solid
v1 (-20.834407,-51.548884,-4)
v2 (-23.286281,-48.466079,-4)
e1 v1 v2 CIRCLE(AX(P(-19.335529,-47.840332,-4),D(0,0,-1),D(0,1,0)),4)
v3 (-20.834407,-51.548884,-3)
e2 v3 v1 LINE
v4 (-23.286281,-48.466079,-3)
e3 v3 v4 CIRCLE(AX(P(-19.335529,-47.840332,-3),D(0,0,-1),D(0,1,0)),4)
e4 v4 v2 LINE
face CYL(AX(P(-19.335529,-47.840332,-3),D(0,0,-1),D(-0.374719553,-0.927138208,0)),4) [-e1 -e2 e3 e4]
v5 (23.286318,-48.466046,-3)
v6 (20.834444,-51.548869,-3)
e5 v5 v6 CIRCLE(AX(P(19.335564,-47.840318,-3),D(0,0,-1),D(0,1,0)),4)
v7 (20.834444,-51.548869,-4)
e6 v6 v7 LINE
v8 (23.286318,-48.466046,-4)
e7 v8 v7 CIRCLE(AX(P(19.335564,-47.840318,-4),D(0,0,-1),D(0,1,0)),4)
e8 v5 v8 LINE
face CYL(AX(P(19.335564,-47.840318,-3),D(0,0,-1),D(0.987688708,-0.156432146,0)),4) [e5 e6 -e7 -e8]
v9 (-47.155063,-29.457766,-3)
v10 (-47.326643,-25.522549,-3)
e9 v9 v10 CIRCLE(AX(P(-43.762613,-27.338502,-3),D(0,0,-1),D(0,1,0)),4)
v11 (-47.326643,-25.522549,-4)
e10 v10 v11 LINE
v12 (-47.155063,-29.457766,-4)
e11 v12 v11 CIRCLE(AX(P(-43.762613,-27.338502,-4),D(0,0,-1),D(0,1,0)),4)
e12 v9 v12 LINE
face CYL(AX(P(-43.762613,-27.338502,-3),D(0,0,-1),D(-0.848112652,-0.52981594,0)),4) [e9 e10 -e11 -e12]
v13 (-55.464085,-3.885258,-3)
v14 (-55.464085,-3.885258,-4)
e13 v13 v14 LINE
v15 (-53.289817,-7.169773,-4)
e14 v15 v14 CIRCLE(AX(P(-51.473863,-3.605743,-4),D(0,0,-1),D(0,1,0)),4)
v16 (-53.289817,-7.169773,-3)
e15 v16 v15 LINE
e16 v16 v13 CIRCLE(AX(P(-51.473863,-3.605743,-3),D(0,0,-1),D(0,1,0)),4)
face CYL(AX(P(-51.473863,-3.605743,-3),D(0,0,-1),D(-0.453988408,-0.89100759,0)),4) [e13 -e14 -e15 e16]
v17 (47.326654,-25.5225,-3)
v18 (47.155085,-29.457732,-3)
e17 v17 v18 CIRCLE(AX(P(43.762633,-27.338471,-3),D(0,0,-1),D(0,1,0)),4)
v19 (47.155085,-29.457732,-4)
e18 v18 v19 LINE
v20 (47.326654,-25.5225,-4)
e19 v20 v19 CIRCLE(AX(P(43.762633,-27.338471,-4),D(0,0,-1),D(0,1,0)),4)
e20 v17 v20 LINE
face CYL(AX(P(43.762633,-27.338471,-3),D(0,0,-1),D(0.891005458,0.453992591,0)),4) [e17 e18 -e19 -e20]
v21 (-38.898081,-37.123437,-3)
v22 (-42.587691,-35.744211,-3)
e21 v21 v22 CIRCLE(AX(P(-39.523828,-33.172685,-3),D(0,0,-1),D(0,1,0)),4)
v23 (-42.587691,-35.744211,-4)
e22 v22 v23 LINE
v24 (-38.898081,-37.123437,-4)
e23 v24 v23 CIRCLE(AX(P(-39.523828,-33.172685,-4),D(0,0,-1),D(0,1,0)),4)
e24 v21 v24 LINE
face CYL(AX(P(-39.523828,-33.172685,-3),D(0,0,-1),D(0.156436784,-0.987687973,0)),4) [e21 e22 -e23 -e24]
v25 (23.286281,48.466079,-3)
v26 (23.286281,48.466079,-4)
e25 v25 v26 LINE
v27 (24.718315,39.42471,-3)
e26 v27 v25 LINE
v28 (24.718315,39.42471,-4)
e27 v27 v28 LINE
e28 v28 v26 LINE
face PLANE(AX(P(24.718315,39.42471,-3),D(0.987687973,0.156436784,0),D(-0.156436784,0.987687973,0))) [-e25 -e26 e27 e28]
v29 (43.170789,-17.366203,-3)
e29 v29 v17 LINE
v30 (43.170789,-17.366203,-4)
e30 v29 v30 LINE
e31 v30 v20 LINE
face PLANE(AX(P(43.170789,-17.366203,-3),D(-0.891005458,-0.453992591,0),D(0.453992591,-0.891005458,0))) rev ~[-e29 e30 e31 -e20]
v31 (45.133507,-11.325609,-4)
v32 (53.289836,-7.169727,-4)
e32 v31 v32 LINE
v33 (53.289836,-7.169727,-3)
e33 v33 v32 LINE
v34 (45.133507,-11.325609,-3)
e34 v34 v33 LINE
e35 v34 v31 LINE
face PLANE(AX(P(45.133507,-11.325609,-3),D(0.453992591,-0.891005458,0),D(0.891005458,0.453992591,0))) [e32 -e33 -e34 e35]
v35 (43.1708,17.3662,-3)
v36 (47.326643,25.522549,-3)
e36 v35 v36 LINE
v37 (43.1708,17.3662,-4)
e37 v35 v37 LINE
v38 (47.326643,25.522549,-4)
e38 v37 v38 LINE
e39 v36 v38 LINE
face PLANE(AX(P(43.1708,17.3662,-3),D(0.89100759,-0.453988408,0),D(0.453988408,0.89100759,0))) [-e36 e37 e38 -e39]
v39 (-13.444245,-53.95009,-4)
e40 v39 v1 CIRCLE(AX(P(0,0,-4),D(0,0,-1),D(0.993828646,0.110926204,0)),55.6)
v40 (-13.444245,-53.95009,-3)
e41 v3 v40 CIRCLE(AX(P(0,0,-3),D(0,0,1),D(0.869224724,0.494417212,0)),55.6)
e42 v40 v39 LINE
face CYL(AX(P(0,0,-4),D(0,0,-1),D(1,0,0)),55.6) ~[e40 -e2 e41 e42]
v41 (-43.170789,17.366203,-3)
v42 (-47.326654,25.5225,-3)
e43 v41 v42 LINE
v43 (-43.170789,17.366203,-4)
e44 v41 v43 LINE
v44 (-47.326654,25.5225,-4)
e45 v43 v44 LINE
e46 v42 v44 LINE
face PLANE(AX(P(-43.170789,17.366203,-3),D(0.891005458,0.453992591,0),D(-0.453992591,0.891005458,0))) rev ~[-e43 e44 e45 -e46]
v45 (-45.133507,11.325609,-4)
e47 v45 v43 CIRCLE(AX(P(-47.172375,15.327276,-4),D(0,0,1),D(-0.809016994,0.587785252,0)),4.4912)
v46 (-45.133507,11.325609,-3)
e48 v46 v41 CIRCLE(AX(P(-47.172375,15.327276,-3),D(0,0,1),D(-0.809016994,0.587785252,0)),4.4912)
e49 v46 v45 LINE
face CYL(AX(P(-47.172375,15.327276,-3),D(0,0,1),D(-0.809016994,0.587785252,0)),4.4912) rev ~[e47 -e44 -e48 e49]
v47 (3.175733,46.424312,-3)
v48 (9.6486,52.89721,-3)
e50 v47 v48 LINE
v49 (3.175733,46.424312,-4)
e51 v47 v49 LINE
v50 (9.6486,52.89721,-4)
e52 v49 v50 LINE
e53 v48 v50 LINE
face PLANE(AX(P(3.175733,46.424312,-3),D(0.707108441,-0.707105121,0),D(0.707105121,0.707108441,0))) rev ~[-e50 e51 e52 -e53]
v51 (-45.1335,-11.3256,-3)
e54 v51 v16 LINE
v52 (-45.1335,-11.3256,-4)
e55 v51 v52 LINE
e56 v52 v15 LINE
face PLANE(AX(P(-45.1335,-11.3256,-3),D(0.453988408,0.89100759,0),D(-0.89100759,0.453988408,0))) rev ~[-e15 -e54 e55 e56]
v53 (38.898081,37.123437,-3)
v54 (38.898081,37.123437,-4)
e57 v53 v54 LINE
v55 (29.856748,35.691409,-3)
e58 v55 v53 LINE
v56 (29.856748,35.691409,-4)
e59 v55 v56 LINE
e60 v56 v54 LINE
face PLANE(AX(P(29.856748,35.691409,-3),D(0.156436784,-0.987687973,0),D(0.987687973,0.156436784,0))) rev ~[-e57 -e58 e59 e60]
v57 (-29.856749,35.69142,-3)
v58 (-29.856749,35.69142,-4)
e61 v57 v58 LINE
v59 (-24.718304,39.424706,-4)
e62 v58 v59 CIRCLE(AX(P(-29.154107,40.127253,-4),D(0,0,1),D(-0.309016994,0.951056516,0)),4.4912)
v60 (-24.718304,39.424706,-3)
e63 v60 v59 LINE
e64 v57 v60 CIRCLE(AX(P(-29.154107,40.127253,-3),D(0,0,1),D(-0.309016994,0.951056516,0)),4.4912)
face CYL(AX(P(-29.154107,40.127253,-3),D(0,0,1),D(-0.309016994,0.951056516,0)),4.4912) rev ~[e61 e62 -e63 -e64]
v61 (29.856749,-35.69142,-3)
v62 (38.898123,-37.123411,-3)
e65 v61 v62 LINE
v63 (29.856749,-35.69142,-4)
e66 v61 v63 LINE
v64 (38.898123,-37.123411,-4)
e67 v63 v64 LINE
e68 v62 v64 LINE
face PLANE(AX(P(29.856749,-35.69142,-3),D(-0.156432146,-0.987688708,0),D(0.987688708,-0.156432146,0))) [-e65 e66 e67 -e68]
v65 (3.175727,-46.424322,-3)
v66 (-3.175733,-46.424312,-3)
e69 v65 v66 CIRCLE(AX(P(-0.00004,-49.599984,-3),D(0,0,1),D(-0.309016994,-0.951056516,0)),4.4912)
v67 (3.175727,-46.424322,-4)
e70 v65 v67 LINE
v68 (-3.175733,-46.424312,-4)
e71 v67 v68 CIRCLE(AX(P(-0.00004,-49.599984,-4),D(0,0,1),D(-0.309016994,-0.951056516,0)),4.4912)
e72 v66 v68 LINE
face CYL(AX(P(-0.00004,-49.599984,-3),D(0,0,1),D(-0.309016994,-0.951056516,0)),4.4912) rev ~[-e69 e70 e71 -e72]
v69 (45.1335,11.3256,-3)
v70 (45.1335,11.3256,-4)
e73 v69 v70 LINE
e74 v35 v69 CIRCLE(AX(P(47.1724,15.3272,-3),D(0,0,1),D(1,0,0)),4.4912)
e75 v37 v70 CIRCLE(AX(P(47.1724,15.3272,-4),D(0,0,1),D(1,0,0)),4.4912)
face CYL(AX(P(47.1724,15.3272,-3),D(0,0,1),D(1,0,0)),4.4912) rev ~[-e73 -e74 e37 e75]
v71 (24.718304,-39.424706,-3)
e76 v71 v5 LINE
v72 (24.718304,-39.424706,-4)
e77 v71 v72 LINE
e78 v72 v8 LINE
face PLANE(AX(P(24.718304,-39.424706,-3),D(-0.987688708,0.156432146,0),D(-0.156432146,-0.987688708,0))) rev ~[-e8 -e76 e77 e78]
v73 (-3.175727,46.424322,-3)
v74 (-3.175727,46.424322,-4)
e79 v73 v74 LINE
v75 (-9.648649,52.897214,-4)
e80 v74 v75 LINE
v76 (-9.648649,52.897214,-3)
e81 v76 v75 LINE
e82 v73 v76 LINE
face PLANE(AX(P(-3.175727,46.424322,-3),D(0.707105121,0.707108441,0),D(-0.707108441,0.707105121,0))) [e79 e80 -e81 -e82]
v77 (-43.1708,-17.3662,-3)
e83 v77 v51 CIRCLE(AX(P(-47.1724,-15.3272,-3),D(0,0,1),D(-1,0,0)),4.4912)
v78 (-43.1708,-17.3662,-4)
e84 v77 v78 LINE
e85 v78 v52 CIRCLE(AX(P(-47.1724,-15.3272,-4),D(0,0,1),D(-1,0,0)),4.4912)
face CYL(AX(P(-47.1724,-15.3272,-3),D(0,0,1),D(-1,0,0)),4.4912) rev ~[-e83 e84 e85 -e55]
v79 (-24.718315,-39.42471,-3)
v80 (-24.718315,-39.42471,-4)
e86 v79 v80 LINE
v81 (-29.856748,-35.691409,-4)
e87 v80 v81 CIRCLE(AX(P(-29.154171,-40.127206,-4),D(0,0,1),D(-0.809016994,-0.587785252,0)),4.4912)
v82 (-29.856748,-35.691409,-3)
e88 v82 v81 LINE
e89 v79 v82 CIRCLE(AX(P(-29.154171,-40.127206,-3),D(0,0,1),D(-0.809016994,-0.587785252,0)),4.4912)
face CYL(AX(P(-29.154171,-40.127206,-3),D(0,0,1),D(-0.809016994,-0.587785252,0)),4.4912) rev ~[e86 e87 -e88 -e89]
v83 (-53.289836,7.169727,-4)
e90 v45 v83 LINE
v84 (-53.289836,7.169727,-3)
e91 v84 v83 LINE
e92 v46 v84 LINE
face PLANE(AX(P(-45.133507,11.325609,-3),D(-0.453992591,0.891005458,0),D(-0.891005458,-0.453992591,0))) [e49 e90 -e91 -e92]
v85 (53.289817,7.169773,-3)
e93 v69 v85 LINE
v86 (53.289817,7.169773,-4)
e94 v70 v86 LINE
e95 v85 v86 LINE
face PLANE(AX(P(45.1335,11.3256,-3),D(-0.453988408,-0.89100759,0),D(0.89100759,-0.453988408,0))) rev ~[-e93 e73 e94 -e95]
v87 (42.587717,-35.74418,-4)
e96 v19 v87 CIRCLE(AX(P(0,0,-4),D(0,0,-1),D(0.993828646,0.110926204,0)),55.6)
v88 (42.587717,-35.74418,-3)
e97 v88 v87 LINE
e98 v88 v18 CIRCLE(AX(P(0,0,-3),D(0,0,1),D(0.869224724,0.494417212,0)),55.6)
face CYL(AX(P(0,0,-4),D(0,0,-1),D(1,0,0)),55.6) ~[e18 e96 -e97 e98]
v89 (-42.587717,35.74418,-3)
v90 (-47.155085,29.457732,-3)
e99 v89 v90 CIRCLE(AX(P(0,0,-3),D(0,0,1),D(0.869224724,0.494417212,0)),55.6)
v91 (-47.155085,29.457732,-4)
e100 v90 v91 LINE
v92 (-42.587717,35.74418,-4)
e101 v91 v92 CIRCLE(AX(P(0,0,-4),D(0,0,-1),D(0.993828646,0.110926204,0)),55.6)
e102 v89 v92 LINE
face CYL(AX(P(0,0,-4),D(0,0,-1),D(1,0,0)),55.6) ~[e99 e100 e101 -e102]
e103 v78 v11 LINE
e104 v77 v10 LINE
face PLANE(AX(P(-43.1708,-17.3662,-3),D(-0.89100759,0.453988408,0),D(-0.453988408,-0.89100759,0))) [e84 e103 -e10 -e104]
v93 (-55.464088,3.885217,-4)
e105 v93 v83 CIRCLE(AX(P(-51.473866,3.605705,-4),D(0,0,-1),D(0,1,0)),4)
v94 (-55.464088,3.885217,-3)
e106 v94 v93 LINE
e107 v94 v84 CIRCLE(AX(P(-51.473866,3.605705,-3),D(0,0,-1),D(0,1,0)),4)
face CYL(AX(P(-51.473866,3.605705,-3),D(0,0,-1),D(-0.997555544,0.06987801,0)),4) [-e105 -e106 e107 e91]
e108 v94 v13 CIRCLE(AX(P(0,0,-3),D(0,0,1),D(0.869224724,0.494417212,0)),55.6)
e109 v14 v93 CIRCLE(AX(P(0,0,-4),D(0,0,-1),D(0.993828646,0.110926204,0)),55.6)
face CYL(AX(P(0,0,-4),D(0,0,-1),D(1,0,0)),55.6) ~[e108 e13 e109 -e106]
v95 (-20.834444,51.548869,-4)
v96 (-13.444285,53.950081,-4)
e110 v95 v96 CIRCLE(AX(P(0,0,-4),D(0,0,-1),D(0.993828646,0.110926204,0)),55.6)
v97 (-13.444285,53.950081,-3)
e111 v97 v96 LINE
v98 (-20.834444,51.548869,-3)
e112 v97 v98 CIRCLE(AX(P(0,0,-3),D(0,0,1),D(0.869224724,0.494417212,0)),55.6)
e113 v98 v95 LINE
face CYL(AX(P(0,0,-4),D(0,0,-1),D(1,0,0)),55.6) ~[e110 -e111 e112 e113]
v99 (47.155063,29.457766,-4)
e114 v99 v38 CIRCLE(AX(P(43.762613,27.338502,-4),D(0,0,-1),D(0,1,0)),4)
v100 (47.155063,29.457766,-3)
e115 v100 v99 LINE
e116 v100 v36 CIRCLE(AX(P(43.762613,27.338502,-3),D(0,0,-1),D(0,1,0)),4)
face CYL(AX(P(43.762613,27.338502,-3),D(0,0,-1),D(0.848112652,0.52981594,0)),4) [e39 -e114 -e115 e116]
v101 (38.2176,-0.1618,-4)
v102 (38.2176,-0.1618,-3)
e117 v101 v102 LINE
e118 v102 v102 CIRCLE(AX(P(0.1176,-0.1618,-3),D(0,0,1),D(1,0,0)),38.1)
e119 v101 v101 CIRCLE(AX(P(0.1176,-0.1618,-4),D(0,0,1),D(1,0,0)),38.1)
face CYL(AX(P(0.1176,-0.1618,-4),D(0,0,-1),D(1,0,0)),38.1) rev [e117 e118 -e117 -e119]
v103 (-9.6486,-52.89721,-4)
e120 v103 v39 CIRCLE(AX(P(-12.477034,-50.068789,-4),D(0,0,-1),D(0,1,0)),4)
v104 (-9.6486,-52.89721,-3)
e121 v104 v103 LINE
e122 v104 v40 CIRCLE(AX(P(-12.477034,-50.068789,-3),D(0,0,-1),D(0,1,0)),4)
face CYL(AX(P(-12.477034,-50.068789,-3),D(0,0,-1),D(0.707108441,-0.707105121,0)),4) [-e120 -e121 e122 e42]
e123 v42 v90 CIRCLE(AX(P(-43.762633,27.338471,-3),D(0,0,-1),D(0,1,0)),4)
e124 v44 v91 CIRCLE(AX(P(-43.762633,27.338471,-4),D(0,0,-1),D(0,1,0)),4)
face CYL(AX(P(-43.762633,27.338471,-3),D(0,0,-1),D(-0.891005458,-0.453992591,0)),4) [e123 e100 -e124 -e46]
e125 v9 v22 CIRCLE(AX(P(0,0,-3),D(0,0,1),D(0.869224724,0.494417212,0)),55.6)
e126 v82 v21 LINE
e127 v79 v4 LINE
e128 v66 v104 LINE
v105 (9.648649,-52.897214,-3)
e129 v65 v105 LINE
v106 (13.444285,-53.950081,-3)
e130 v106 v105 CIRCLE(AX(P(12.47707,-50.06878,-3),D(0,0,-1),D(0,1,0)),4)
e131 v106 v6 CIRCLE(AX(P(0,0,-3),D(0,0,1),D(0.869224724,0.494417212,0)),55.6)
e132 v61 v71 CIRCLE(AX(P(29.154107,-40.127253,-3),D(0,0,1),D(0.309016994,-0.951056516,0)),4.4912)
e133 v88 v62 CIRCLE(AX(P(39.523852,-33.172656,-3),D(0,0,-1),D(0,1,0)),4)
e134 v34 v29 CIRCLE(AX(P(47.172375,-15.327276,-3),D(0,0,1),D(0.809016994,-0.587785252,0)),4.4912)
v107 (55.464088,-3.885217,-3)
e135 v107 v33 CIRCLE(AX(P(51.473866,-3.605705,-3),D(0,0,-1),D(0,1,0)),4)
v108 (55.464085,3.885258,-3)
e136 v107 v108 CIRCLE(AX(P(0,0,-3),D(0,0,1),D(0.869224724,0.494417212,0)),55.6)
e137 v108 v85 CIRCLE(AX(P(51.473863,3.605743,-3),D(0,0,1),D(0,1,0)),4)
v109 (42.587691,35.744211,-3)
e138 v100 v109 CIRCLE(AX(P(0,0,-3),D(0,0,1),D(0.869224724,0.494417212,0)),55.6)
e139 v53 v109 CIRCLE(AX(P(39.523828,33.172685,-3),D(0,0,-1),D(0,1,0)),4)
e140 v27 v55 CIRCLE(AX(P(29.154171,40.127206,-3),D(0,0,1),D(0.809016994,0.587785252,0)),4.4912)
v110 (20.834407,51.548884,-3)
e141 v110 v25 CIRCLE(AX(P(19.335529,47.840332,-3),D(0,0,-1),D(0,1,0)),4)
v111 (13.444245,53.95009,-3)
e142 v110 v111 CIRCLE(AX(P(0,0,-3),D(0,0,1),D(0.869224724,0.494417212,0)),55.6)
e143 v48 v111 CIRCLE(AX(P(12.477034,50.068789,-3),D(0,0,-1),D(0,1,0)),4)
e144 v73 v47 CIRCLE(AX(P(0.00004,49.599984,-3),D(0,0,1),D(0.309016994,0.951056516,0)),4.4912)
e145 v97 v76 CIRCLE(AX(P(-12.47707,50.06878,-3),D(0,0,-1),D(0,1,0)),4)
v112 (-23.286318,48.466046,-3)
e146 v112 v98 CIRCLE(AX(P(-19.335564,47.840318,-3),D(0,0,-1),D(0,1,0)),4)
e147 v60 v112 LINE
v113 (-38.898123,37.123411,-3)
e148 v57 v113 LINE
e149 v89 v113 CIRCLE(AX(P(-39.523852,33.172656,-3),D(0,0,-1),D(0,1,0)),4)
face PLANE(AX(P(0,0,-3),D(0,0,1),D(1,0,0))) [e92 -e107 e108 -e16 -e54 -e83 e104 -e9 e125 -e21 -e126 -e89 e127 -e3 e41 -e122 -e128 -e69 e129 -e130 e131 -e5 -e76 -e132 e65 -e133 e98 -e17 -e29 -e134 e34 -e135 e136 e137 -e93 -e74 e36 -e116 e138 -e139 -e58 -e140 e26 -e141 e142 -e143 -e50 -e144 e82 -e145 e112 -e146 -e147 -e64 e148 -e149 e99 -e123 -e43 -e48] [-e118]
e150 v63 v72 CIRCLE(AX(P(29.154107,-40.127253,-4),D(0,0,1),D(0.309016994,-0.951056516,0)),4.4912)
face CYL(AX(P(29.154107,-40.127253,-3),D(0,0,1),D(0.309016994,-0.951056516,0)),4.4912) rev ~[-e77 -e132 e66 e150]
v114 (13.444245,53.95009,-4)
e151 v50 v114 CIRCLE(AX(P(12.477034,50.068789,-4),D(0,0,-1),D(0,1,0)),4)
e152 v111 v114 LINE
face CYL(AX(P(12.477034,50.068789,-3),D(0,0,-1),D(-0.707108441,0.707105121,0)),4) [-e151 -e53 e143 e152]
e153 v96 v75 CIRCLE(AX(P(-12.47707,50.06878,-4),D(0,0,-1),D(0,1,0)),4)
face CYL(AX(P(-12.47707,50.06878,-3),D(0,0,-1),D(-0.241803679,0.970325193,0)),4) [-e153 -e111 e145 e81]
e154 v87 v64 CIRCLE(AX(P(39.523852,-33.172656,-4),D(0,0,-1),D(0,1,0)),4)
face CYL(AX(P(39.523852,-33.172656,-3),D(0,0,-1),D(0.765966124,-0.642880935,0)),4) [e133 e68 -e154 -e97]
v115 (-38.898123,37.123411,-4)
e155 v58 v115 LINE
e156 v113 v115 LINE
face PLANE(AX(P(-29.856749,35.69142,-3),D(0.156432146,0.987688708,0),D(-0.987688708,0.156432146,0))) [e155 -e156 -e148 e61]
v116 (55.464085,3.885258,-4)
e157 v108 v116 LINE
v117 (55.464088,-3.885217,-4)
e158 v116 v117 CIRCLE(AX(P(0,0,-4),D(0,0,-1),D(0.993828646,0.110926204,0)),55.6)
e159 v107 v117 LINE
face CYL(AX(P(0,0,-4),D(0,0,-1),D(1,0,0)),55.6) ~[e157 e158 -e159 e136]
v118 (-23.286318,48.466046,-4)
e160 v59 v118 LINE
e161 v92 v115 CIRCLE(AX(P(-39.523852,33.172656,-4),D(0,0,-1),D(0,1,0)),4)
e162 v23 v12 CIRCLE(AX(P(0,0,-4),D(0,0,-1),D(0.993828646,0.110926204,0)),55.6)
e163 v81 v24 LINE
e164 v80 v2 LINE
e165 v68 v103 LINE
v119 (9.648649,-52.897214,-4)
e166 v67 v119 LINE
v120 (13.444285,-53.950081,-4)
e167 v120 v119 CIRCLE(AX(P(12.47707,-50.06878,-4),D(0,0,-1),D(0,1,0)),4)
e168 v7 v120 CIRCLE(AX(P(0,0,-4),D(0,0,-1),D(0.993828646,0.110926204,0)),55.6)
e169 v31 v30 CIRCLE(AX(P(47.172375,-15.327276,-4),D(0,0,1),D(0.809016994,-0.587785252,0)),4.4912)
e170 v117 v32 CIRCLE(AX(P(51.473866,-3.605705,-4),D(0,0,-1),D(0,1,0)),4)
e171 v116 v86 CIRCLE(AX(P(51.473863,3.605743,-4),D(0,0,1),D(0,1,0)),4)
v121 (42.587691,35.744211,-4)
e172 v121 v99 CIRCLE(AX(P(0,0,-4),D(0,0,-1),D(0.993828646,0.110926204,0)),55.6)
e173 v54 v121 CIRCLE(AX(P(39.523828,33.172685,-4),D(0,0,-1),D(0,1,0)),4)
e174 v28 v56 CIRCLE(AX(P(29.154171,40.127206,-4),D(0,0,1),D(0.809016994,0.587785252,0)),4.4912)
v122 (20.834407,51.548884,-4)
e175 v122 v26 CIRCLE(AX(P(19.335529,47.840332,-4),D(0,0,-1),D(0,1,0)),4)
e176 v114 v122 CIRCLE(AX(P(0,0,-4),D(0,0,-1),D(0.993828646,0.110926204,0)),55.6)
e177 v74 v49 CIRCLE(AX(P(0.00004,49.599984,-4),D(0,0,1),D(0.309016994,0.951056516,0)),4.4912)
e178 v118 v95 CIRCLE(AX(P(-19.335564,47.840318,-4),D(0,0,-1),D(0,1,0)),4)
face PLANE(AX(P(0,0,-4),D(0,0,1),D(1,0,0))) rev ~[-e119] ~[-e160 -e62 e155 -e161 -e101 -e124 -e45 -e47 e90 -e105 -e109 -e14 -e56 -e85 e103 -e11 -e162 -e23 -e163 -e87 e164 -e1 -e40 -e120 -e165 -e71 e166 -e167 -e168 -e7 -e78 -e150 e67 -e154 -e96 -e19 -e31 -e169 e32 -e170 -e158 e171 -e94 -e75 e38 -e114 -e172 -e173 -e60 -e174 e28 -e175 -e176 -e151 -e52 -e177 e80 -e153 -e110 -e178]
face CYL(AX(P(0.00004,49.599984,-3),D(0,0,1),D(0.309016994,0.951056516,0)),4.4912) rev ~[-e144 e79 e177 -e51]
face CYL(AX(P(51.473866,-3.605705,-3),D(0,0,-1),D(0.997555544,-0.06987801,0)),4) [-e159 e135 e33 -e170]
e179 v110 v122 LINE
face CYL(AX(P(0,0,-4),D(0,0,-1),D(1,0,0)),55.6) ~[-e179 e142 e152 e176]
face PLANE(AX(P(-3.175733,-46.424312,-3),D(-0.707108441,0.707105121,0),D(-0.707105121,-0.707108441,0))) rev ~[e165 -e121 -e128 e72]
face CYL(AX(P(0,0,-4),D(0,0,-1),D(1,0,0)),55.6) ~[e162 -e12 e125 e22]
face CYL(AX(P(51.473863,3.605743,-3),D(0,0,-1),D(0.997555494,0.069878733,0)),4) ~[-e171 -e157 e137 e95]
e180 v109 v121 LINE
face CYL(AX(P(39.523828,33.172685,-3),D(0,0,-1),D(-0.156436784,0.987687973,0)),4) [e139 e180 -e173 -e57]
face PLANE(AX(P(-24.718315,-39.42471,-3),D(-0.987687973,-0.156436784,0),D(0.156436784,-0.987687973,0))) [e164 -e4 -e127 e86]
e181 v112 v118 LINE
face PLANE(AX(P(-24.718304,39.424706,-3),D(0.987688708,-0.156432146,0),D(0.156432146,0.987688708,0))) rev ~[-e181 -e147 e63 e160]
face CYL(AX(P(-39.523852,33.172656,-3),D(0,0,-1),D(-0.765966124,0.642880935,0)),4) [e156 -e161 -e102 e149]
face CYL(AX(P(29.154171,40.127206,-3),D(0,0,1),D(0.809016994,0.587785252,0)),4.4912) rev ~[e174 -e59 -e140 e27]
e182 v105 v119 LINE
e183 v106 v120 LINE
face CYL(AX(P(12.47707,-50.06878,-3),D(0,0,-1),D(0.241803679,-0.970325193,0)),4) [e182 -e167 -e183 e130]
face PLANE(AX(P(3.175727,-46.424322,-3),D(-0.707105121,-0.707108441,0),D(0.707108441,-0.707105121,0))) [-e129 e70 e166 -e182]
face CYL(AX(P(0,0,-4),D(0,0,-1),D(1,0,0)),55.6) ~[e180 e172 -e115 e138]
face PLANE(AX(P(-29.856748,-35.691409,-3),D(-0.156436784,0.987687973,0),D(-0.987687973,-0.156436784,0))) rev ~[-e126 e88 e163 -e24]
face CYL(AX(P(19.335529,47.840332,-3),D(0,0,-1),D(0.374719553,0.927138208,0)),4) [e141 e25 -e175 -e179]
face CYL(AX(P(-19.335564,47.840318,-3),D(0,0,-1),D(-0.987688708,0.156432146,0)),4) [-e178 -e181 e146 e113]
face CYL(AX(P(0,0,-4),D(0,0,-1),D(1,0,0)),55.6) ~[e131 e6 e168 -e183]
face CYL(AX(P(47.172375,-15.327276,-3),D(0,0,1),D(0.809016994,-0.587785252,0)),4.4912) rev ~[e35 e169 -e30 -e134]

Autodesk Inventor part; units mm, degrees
ref_plane "YZ Plane" through (0, 0, 0) normal (1, 0, 0) x (0, 1, 0)
ref_plane "XZ Plane" through (0, 0, 0) normal (0, 1, 0) x (-1, 0, 0)
ref_plane "XY Plane" through (0, 0, 0) normal (0, 0, 1) x (1, 0, 0)
ref_plane "Work Plane1" through (0, 0, -4) normal (0, 0, 1) x (1, 0, 0)
sketch "Sketch1" plane through (0, 0, -4) normal (0, 0, 1) x (1, 0, 0)
  circle A0 centre (0.1176, -0.1618) radius 38.1 projected
  circle A1 centre (0, 0) radius 43.6 projected
  circle A2 centre (0, 0) radius 55.6 projected
  point P0 (0, 0)
extrude "Extrusion1" add sketch "Sketch1" along normal blind 1 contours A1 | A2
sketch "Sketch2" plane through (0, 0, -3) normal (0, 0, 1) x (1, 0, 0)
  circle A0 centre (47.1724, 15.3272) radius 2 projected
  circle A1 centre (47.1724, 15.3272) radius 4.4912
  line L0 (45.1335, 11.3256) -> (55.2569, 6.1675)
  circle A2 centre (0, 0) radius 55.6 projected
  line L1 (43.1708, 17.3662) -> (48.3289, 27.4896)
  line L2 (47.1724, 15.3272) -> (52.8787, 17.1813)
  point P0 (0, 0)
  dimension "d2" = 45
  dimension "d3" = 45
extrude "Extrusion2" cut sketch "Sketch2" against normal blind 1 contours A0 | A1 | A1 L1 A2 L2 | L2 A2 L0 A1
fillet "Fillet1" radius 4 2 edges at (48.3289, 27.4896, -3.5) (55.2569, 6.1675, -3.5)
pattern_circular "Circular Pattern1" count 10 over 360 about axis through (0, 0, -4) along (0, 0, 1) of "Extrusion2", "Fillet1"
sketch "Sketch3" plane through (0, 0, -3) normal (0, 0, 1) x (1, 0, 0)
  arc A0 (47.1551, -29.4578) -> (47.3266, -25.5226) centre (43.7626, -27.3385) ccw projected
  line L0 (47.3266, -25.5226) -> (43.1708, -17.3662) projected
  arc A1 (45.1335, -11.3256) -> (43.1708, -17.3662) centre (47.1724, -15.3272) ccw projected
  line L1 (45.1335, -11.3256) -> (53.2898, -7.1697) projected
  arc A2 (53.2898, -7.1697) -> (55.4641, -3.8852) centre (51.4739, -3.6057) ccw projected
  arc A3 (55.4641, -3.8852) -> (55.4641, 3.8852) centre (0, 0) ccw projected
  arc A4 (55.4641, 3.8852) -> (53.2898, 7.1697) centre (51.4739, 3.6057) ccw projected
  line L2 (53.2898, 7.1697) -> (45.1335, 11.3256) projected
  arc A5 (43.1708, 17.3662) -> (45.1335, 11.3256) centre (47.1724, 15.3272) ccw projected
  line L3 (43.1708, 17.3662) -> (47.3266, 25.5226) projected
  arc A6 (47.3266, 25.5226) -> (47.1551, 29.4578) centre (43.7626, 27.3385) ccw projected
  arc A7 (47.1551, 29.4578) -> (42.5877, 35.7442) centre (0, 0) ccw projected
  arc A8 (42.5877, 35.7442) -> (38.8981, 37.1234) centre (39.5239, 33.1726) ccw projected
  line L4 (38.8981, 37.1234) -> (29.8567, 35.6914) projected
  arc A9 (24.7183, 39.4247) -> (29.8567, 35.6914) centre (29.1541, 40.1272) ccw projected
  line L5 (24.7183, 39.4247) -> (23.2863, 48.4661) projected
  arc A10 (23.2863, 48.4661) -> (20.8344, 51.5489) centre (19.3355, 47.8403) ccw projected
  arc A11 (20.8344, 51.5489) -> (13.4443, 53.9501) centre (0, 0) ccw projected
  arc A12 (13.4443, 53.9501) -> (9.6487, 52.8972) centre (12.4771, 50.0688) ccw projected
  line L6 (9.6487, 52.8972) -> (3.1757, 46.4243) projected
  arc A13 (-3.1757, 46.4243) -> (3.1757, 46.4243) centre (0, 49.6) ccw projected
  line L7 (-3.1757, 46.4243) -> (-9.6487, 52.8972) projected
  arc A14 (-9.6487, 52.8972) -> (-13.4443, 53.9501) centre (-12.4771, 50.0688) ccw projected
  arc A15 (-13.4443, 53.9501) -> (-20.8344, 51.5489) centre (0, 0) ccw projected
  arc A16 (-20.8344, 51.5489) -> (-23.2863, 48.4661) centre (-19.3355, 47.8403) ccw projected
  line L8 (-23.2863, 48.4661) -> (-24.7183, 39.4247) projected
  arc A17 (-29.8567, 35.6914) -> (-24.7183, 39.4247) centre (-29.1541, 40.1272) ccw projected
  line L9 (-29.8567, 35.6914) -> (-38.8981, 37.1234) projected
  arc A18 (-38.8981, 37.1234) -> (-42.5877, 35.7442) centre (-39.5239, 33.1726) ccw projected
  arc A19 (-42.5877, 35.7442) -> (-47.1551, 29.4578) centre (0, 0) ccw projected
  arc A20 (-47.1551, 29.4578) -> (-47.3266, 25.5226) centre (-43.7626, 27.3385) ccw projected
  line L10 (-47.3266, 25.5226) -> (-43.1708, 17.3662) projected
  arc A21 (-45.1335, 11.3256) -> (-43.1708, 17.3662) centre (-47.1724, 15.3272) ccw projected
  line L11 (-45.1335, 11.3256) -> (-53.2898, 7.1697) projected
  arc A22 (-53.2898, 7.1697) -> (-55.4641, 3.8852) centre (-51.4739, 3.6057) ccw projected
  arc A23 (-55.4641, 3.8852) -> (-55.4641, -3.8852) centre (0, 0) ccw projected
  arc A24 (-55.4641, -3.8852) -> (-53.2898, -7.1697) centre (-51.4739, -3.6057) ccw projected
  line L12 (-53.2898, -7.1697) -> (-45.1335, -11.3256) projected
  arc A25 (-43.1708, -17.3662) -> (-45.1335, -11.3256) centre (-47.1724, -15.3272) ccw projected
  line L13 (-43.1708, -17.3662) -> (-47.3266, -25.5226) projected
  arc A26 (-47.3266, -25.5226) -> (-47.1551, -29.4578) centre (-43.7626, -27.3385) ccw projected
  arc A27 (-47.1551, -29.4578) -> (-42.5877, -35.7442) centre (0, 0) ccw projected
  arc A28 (-42.5877, -35.7442) -> (-38.8981, -37.1234) centre (-39.5239, -33.1726) ccw projected
  line L14 (-38.8981, -37.1234) -> (-29.8567, -35.6914) projected
  arc A29 (-24.7183, -39.4247) -> (-29.8567, -35.6914) centre (-29.1541, -40.1272) ccw projected
  line L15 (-24.7183, -39.4247) -> (-23.2863, -48.4661) projected
  arc A30 (-23.2863, -48.4661) -> (-20.8344, -51.5489) centre (-19.3355, -47.8403) ccw projected
  arc A31 (-20.8344, -51.5489) -> (-13.4443, -53.9501) centre (0, 0) ccw projected
  arc A32 (-13.4443, -53.9501) -> (-9.6487, -52.8972) centre (-12.4771, -50.0688) ccw projected
  line L16 (-9.6487, -52.8972) -> (-3.1757, -46.4243) projected
  arc A33 (3.1757, -46.4243) -> (-3.1757, -46.4243) centre (0, -49.6) ccw projected
  line L17 (3.1757, -46.4243) -> (9.6487, -52.8972) projected
  arc A34 (9.6487, -52.8972) -> (13.4443, -53.9501) centre (12.4771, -50.0688) ccw projected
  arc A35 (13.4443, -53.9501) -> (20.8344, -51.5489) centre (0, 0) ccw projected
  arc A36 (20.8344, -51.5489) -> (23.2863, -48.4661) centre (19.3355, -47.8403) ccw projected
  line L18 (23.2863, -48.4661) -> (24.7183, -39.4247) projected
  arc A37 (29.8567, -35.6914) -> (24.7183, -39.4247) centre (29.1541, -40.1272) ccw projected
  line L19 (29.8567, -35.6914) -> (38.8981, -37.1234) projected
  arc A38 (38.8981, -37.1234) -> (42.5877, -35.7442) centre (39.5239, -33.1726) ccw projected
  arc A39 (42.5877, -35.7442) -> (47.1551, -29.4578) centre (0, 0) ccw projected
  circle A40 centre (0.1176, -0.1618) radius 38.1 projected
  point P0 (0, 0)
equation "\"d3\" = d2"
properties part number "Anglerfish_3inch_tube_rubberring"
